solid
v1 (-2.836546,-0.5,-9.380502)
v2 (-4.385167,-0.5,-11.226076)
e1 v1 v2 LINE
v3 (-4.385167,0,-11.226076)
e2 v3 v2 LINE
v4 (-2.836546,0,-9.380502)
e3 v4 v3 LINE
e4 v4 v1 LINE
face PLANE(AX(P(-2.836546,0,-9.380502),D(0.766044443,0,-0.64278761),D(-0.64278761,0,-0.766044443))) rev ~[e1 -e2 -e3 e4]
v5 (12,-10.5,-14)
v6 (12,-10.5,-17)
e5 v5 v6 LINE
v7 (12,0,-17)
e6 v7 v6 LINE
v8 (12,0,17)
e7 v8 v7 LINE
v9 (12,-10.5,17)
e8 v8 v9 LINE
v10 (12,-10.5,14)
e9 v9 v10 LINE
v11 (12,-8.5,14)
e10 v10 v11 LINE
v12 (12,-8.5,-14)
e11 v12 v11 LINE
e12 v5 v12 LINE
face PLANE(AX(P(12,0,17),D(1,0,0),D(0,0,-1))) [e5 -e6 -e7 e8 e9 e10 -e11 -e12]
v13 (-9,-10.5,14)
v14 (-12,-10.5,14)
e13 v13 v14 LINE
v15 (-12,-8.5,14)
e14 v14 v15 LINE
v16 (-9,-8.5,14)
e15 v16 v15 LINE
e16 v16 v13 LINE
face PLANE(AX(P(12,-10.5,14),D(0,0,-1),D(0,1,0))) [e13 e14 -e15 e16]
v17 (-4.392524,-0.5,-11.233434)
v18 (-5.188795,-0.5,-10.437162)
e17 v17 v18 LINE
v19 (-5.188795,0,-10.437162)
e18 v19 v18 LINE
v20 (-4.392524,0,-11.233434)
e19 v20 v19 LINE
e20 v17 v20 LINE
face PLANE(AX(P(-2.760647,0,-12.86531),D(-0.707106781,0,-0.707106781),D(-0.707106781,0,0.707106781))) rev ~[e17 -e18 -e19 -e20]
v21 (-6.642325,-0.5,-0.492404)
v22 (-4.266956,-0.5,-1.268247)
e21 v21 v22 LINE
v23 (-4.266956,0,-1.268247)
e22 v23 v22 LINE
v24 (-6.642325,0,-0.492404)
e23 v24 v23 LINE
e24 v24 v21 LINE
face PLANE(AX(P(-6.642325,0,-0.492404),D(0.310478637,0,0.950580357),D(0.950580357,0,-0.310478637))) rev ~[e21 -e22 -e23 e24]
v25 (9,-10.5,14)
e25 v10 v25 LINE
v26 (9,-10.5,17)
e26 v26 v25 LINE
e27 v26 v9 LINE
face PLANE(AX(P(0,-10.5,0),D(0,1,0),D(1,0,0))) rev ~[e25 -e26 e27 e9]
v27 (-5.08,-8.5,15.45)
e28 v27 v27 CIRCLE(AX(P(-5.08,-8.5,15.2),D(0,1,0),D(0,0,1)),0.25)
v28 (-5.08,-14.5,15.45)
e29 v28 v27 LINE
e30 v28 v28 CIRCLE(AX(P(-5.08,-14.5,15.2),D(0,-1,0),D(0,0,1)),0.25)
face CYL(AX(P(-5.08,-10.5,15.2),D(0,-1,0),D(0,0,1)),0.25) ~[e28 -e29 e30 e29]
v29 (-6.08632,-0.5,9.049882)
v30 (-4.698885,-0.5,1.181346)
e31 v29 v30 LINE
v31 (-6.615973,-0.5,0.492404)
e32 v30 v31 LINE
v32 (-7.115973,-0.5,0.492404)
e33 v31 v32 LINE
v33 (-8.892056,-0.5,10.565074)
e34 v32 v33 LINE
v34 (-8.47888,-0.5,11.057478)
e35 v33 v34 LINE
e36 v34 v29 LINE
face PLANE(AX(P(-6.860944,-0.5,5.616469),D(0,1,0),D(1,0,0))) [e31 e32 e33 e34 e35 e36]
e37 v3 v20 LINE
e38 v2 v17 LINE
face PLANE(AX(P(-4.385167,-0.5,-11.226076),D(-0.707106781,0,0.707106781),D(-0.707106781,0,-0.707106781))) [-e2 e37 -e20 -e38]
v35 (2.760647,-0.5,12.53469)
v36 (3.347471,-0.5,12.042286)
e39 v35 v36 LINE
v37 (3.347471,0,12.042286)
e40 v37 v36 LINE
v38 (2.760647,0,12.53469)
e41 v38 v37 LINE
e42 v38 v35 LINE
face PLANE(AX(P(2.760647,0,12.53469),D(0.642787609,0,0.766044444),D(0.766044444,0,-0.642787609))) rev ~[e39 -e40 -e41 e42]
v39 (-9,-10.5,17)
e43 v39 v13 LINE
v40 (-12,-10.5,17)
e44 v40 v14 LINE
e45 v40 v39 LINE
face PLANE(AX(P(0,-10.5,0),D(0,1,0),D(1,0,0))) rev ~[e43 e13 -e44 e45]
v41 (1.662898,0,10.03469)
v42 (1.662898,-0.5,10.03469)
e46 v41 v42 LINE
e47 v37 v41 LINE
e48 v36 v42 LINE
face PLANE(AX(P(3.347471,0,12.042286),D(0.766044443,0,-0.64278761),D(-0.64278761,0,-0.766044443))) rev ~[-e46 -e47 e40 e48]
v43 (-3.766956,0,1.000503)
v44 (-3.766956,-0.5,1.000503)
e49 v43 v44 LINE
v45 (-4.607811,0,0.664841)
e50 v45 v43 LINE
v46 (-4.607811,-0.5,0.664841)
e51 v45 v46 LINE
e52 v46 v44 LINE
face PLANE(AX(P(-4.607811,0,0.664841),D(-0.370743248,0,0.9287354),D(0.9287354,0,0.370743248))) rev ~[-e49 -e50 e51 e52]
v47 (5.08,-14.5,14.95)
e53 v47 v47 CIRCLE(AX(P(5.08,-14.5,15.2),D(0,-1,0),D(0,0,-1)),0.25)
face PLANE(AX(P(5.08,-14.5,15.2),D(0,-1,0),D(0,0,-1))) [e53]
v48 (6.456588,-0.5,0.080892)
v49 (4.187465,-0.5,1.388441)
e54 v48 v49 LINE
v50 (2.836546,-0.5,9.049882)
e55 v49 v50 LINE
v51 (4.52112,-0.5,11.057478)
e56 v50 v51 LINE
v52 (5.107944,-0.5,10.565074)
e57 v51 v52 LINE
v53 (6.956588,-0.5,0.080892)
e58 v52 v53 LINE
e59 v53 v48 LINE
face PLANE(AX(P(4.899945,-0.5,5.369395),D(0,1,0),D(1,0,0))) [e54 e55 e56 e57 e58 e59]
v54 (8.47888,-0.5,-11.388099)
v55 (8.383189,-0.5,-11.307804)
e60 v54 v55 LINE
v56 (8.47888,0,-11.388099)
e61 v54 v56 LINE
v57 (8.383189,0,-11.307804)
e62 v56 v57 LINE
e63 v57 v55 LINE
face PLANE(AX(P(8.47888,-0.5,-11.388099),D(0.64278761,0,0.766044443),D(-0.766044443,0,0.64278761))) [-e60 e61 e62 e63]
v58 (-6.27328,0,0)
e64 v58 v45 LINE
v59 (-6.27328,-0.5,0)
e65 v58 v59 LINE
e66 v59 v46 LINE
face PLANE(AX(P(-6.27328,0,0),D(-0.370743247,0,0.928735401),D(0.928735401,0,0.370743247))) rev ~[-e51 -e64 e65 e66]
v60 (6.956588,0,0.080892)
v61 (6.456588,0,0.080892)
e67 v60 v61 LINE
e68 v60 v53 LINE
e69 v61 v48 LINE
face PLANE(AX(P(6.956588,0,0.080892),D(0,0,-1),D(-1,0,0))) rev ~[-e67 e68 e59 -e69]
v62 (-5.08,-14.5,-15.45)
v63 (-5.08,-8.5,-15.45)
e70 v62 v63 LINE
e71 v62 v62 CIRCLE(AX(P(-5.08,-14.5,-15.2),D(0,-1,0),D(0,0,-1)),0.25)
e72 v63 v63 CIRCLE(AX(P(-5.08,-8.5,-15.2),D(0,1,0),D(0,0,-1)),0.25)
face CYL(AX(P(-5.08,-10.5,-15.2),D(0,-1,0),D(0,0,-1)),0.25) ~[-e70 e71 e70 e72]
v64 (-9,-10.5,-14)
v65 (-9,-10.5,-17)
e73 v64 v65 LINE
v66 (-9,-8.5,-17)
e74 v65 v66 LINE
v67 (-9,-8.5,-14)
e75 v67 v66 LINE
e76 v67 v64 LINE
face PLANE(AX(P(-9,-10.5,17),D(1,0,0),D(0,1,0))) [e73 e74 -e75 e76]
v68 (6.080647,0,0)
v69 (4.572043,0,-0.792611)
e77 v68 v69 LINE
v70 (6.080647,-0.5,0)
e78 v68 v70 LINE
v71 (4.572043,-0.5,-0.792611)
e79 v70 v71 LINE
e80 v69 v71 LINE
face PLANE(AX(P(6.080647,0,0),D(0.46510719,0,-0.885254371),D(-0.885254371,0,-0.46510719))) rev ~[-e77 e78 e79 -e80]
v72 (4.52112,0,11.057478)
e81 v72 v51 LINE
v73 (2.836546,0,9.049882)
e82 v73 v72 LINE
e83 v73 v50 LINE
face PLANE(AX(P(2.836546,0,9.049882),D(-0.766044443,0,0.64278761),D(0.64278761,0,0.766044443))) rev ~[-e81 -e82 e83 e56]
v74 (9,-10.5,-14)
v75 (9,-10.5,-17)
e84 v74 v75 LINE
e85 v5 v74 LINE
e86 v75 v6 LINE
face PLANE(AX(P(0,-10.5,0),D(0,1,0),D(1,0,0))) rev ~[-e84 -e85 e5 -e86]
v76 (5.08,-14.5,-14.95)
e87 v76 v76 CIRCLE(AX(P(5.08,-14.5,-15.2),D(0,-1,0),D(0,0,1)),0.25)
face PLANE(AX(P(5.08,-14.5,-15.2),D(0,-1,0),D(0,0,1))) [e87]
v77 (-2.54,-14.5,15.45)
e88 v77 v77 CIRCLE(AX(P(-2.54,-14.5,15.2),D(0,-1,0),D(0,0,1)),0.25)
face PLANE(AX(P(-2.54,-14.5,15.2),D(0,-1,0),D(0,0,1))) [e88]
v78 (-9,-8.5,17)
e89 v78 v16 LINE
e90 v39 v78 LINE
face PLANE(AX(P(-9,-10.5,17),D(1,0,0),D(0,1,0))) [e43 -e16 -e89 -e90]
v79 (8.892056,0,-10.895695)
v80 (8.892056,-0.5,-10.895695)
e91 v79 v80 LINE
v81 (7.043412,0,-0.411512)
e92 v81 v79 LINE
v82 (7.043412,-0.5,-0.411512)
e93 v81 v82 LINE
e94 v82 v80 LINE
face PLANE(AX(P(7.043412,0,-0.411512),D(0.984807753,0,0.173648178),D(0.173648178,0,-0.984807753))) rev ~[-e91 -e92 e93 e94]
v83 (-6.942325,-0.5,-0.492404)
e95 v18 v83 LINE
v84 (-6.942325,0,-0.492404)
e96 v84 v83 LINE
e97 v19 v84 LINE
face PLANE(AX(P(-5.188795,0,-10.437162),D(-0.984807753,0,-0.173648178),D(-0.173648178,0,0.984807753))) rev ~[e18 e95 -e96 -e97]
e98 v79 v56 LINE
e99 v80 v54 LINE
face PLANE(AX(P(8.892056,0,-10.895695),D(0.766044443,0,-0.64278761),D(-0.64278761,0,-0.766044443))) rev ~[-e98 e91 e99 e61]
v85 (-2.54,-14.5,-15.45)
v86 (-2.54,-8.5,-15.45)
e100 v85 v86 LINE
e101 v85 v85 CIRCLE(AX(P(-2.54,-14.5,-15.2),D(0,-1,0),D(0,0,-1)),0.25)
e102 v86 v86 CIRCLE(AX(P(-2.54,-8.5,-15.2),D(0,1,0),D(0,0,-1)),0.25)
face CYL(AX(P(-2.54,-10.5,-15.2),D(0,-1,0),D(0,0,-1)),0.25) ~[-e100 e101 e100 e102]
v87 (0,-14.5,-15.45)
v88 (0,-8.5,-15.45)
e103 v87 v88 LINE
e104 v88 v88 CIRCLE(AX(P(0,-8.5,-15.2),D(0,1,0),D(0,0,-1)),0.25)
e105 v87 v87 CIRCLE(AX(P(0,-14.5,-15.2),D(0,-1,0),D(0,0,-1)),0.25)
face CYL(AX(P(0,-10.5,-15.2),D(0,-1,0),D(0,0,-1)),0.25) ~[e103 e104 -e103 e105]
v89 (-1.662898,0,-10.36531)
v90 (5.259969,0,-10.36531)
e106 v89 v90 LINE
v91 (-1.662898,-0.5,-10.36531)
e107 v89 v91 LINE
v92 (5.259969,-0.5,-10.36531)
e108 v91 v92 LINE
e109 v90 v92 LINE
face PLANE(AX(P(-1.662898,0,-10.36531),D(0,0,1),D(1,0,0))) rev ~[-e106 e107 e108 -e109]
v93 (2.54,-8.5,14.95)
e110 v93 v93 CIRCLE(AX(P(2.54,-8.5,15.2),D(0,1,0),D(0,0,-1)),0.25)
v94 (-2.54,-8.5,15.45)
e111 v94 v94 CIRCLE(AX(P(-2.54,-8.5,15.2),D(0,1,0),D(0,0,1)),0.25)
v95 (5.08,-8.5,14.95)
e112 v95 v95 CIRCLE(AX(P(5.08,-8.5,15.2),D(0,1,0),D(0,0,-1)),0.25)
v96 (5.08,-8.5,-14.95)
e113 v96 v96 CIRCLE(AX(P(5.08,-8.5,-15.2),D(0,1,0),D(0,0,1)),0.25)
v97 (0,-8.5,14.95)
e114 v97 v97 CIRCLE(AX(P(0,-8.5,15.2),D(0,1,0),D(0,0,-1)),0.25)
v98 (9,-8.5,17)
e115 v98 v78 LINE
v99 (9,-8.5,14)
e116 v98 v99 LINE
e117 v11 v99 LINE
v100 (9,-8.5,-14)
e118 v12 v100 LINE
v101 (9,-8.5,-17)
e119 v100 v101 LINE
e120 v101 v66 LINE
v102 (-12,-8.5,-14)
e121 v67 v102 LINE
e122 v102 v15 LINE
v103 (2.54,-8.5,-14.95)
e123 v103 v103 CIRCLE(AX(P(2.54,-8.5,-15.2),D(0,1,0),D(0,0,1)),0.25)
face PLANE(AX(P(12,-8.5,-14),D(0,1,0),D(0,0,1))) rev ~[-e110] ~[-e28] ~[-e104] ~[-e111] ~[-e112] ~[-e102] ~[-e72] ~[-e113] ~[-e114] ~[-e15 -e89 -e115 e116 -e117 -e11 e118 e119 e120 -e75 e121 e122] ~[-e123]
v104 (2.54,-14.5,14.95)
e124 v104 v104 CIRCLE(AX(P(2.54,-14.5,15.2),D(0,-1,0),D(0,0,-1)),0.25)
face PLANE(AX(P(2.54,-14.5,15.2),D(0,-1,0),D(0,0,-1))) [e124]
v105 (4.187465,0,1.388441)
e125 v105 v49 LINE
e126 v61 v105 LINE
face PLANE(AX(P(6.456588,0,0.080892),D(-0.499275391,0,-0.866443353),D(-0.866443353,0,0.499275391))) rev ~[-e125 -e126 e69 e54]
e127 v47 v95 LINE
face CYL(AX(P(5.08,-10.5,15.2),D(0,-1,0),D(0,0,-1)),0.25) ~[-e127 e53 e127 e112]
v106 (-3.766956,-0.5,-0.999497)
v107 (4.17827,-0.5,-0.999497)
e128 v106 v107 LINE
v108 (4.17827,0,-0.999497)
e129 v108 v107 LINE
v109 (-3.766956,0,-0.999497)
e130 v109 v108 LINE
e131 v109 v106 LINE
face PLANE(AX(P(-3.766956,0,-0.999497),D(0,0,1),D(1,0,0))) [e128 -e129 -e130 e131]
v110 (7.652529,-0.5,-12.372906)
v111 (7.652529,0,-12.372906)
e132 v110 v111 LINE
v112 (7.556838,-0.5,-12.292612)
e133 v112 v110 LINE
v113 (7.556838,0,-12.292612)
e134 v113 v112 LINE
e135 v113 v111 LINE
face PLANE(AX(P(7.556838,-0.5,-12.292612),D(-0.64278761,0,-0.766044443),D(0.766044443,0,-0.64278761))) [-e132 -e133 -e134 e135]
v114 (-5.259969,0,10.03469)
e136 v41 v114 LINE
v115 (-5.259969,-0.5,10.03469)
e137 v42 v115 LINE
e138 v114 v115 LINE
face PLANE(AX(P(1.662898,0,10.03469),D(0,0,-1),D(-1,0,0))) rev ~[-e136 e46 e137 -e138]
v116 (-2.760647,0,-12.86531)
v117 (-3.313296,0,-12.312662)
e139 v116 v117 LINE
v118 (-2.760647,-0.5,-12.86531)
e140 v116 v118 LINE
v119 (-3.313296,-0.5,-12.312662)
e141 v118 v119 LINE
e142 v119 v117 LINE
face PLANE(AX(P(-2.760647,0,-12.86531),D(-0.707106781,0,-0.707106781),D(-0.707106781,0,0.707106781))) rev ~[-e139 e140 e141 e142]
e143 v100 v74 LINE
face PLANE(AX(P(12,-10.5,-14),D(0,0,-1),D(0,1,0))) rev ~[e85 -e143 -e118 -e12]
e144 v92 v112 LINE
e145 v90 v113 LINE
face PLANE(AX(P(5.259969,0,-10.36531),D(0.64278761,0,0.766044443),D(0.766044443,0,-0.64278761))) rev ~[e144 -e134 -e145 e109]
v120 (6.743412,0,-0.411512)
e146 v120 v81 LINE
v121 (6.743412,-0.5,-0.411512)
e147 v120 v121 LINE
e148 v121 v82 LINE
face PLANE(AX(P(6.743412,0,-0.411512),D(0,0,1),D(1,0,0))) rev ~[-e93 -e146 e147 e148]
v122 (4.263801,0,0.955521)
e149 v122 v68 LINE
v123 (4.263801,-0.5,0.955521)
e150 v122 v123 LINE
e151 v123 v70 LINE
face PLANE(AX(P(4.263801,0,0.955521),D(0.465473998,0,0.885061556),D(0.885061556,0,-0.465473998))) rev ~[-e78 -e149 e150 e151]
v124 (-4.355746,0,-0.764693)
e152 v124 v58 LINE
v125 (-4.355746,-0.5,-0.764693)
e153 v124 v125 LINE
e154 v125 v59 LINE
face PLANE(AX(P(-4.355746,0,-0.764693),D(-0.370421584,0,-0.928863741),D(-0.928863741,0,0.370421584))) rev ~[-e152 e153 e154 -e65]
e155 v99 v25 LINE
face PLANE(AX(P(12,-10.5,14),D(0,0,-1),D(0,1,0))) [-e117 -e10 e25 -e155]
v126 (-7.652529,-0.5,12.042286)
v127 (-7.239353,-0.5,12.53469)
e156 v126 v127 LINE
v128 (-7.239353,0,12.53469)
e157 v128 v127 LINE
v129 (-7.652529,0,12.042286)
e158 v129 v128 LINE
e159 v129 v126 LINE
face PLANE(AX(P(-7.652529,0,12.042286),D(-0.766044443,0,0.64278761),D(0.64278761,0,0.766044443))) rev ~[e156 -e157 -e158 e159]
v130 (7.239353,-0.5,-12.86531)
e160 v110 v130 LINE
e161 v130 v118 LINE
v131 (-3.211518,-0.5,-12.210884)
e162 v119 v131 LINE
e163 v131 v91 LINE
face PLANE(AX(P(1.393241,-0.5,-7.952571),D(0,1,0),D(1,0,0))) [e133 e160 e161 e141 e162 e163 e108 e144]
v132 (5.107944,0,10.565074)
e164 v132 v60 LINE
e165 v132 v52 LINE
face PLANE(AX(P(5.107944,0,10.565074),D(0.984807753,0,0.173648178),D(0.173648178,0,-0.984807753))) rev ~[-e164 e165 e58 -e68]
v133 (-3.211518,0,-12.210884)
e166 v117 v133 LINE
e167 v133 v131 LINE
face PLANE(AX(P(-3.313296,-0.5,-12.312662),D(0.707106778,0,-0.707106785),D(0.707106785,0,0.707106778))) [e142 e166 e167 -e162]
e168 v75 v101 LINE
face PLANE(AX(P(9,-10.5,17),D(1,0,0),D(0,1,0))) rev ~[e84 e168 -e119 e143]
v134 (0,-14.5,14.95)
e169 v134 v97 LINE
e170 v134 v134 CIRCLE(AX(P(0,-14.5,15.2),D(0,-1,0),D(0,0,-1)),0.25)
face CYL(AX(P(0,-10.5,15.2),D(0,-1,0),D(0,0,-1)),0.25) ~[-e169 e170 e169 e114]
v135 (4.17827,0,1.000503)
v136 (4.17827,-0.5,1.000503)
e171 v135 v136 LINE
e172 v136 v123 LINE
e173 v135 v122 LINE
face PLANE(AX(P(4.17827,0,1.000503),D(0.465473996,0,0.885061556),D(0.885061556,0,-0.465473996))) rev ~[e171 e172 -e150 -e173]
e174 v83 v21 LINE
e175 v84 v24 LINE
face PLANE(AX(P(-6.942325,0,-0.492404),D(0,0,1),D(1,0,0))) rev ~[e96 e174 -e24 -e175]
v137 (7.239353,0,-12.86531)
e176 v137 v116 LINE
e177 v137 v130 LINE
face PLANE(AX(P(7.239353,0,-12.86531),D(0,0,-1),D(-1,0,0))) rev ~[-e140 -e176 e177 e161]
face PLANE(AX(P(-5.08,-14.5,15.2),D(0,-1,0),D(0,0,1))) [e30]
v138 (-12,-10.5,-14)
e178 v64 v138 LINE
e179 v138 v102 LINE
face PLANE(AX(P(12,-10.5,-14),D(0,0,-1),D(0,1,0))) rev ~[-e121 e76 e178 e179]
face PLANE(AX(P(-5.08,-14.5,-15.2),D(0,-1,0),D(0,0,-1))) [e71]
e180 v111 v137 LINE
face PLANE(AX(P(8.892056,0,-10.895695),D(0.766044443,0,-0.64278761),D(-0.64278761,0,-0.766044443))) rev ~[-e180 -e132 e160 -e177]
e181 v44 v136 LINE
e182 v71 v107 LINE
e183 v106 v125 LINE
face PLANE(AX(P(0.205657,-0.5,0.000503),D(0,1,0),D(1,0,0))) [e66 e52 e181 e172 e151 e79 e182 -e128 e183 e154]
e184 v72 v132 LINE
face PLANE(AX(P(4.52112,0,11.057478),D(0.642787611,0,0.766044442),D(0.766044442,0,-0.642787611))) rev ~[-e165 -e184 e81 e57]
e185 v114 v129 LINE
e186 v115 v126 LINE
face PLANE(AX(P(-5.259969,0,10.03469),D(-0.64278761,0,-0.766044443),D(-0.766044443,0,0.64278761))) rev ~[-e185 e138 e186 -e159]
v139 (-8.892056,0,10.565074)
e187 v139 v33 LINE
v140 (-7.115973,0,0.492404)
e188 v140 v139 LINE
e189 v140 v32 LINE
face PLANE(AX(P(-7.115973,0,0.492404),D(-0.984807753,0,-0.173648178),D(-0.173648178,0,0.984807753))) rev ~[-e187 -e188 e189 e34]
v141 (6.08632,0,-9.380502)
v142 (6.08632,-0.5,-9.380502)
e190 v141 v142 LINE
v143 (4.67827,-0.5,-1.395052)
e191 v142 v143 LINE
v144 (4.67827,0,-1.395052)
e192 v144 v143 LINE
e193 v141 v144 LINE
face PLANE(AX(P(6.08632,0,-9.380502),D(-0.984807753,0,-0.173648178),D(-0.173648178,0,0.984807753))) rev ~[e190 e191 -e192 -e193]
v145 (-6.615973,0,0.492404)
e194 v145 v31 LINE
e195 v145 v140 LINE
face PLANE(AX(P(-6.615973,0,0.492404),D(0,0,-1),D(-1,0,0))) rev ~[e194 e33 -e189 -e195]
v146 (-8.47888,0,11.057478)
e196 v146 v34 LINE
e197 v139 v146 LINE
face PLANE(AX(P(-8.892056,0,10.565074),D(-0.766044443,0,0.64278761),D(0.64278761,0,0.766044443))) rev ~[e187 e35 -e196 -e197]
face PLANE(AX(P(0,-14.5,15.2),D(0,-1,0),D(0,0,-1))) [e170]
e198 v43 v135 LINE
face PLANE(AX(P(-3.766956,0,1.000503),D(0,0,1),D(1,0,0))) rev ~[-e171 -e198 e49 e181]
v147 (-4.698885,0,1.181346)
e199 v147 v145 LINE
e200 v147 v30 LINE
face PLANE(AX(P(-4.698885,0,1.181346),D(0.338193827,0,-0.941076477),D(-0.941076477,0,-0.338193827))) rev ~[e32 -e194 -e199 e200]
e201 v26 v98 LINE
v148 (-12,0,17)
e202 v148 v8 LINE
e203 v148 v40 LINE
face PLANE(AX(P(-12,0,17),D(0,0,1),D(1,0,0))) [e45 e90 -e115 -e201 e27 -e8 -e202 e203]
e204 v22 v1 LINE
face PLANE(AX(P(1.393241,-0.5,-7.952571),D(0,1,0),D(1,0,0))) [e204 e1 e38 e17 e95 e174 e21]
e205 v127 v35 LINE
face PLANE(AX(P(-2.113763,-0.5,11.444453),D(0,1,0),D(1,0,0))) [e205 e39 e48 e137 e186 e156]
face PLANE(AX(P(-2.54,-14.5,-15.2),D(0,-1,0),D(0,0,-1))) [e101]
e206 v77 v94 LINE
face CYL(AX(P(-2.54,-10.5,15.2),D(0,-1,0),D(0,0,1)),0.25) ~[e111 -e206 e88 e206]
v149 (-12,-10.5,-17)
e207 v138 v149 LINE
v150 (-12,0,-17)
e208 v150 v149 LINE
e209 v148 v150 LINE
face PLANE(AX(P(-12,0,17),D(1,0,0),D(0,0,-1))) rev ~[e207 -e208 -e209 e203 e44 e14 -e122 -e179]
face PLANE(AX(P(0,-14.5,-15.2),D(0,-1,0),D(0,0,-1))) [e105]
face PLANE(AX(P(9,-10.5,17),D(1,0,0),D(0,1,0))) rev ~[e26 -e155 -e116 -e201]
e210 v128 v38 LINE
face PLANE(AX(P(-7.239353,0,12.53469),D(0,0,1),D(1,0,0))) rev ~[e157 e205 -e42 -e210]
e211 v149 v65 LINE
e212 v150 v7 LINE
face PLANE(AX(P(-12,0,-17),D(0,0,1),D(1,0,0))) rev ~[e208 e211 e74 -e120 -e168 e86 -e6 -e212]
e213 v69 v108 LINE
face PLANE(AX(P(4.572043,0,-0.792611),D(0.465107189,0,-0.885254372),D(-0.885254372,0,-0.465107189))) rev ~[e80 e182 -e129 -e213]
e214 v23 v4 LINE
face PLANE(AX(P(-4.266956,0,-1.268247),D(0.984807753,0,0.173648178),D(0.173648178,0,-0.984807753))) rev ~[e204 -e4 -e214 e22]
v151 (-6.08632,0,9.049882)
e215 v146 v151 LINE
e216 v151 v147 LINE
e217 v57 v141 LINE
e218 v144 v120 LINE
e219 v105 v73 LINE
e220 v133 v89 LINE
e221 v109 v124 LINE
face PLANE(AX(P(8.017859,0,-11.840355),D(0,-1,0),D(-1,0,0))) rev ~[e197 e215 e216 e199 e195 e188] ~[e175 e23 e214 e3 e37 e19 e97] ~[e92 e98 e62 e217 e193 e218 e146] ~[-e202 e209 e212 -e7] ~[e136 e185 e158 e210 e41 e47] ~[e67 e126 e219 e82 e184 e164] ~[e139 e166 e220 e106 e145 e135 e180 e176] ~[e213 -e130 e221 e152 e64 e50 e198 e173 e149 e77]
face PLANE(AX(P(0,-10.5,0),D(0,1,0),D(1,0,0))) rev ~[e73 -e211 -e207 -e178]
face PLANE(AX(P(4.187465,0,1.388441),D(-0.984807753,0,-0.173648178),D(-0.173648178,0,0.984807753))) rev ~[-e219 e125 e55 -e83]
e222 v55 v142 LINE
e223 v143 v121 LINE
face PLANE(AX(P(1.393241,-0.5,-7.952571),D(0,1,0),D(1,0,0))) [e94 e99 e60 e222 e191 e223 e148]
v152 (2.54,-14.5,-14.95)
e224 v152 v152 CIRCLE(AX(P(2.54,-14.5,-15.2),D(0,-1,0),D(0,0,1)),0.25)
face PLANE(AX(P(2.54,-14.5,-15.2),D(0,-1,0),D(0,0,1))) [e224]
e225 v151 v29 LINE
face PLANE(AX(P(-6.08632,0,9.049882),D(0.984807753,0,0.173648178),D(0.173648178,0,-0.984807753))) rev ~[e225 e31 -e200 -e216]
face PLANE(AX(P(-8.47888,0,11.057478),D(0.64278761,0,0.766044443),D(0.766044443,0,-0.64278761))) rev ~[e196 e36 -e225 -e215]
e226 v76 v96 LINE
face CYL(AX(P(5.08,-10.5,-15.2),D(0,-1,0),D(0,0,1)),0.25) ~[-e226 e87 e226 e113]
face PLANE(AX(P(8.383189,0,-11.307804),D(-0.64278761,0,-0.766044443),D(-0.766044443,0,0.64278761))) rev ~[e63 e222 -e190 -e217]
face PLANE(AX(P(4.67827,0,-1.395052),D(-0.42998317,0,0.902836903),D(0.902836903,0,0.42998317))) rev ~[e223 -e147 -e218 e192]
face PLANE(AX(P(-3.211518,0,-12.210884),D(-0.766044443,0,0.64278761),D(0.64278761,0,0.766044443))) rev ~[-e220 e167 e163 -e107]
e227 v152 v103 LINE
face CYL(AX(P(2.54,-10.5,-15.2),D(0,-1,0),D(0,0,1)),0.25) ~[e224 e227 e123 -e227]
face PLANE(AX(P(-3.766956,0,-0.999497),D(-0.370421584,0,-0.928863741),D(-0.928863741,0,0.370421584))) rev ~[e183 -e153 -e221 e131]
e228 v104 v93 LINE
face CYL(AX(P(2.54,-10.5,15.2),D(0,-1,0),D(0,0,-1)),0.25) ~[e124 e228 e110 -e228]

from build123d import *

# Parameters (mm, degrees)
SKETCH1_W           = 24
SKETCH1_H           = 34
BOSS_EXTRUDE1_DEPTH = 10.5
SKETCH3_R           = 0.25
BOSS_EXTRUDE2_DEPTH = 4
SKETCH4_W           = 14
SKETCH4_H           = 2
CUT_EXTRUDE1_DEPTH  = 30
SKETCH5_W           = 9
SKETCH5_H           = 2
CUT_EXTRUDE2_DEPTH  = 43
SKETCH6_R           = 0.25
BOSS_EXTRUDE3_DEPTH = 2
SKETCH7_W           = 7.945226129
SKETCH7_H           = 2
CUT_EXTRUDE3_DEPTH  = 0.5
BOSS_EXTRUDE4_DEPTH = 0.5


with BuildPart() as part:
    # Sketch1 → Boss-Extrude1 (new body)
    with BuildSketch(Plane(origin=(0, 0, 0), x_dir=(1, 0, 0), z_dir=(0, 1, 0))):
        Rectangle(SKETCH1_W, SKETCH1_H)
    extrude(amount=-BOSS_EXTRUDE1_DEPTH)

    # Sketch3 → Boss-Extrude2 (add)
    with BuildSketch(Plane.XZ.offset(10.5)):
        with Locations(Location((0, 15.2, 0), (0, 0, 270))):
            Circle(SKETCH3_R)
        with Locations(Location((0, -15.2, 0), (0, 0, 270))):
            Circle(SKETCH3_R)
        with Locations(Location((2.54, 15.2, 0), (0, 0, 270))):
            Circle(SKETCH3_R)
        with Locations(Location((5.08, 15.2, 0), (0, 0, 270))):
            Circle(SKETCH3_R)
        with Locations(Location((-2.54, 15.2, 0), (0, 0, 90))):
            Circle(SKETCH3_R)
        with Locations(Location((-5.08, 15.2, 0), (0, 0, 90))):
            Circle(SKETCH3_R)
        with Locations(Location((-5.08, -15.2, 0), (0, 0, 270))):
            Circle(SKETCH3_R)
        with Locations(Location((-2.54, -15.2, 0), (0, 0, 270))):
            Circle(SKETCH3_R)
        with Locations(Location((2.54, -15.2, 0), (0, 0, 90))):
            Circle(SKETCH3_R)
        with Locations(Location((5.08, -15.2, 0), (0, 0, 90))):
            Circle(SKETCH3_R)
    extrude(amount=BOSS_EXTRUDE2_DEPTH)

    # Sketch4 → Cut-Extrude1 (cut)
    with BuildSketch(Plane(origin=(12, 0, 0), x_dir=(0, 0, -1), z_dir=(1, 0, 0))):
        with Locations((-7, -9.5)):
            Rectangle(SKETCH4_W, SKETCH4_H)
        with Locations((7, -9.5)):
            Rectangle(SKETCH4_W, SKETCH4_H)
    extrude(amount=-CUT_EXTRUDE1_DEPTH, mode=Mode.SUBTRACT)

    # Sketch5 → Cut-Extrude2 (cut)
    with BuildSketch(Plane.XY.offset(17)):
        with Locations((4.5, -9.5)):
            Rectangle(SKETCH5_W, SKETCH5_H)
        with Locations((-4.5, -9.5)):
            Rectangle(SKETCH5_W, SKETCH5_H)
    extrude(amount=-CUT_EXTRUDE2_DEPTH, mode=Mode.SUBTRACT)


with BuildPart() as cut_extrude2_piece_1:
    # of the separate pieces the step leaves, piece 1, a body of its own (cut_extrude2_pieces)
    add(part.part.solids().sort_by_distance((-12, 0, -17))[0])



with BuildPart() as cut_extrude2_piece_2:
    # of the separate pieces the step leaves, piece 2, a body of its own (cut_extrude2_pieces)
    add(part.part.solids().sort_by_distance((5.08, -10.5, -14.95))[0])


with BuildPart() as cut_extrude2_piece_3:
    # of the separate pieces the step leaves, piece 3, a body of its own (cut_extrude2_pieces)
    add(part.part.solids().sort_by_distance((-5.08, -10.5, -15.45))[0])


with BuildPart() as cut_extrude2_piece_4:
    # of the separate pieces the step leaves, piece 4, a body of its own (cut_extrude2_pieces)
    add(part.part.solids().sort_by_distance((5.08, -10.5, 14.95))[0])


with BuildPart() as cut_extrude2_piece_5:
    # of the separate pieces the step leaves, piece 5, a body of its own (cut_extrude2_pieces)
    add(part.part.solids().sort_by_distance((-5.08, -10.5, 15.45))[0])


with BuildPart() as cut_extrude2_piece_6:
    # of the separate pieces the step leaves, piece 6, a body of its own (cut_extrude2_pieces)
    add(part.part.solids().sort_by_distance((0, -10.5, -15.45))[0])


with BuildPart() as cut_extrude2_piece_7:
    # of the separate pieces the step leaves, piece 7, a body of its own (cut_extrude2_pieces)
    add(part.part.solids().sort_by_distance((2.54, -10.5, -14.95))[0])


with BuildPart() as cut_extrude2_piece_8:
    # of the separate pieces the step leaves, piece 8, a body of its own (cut_extrude2_pieces)
    add(part.part.solids().sort_by_distance((-2.54, -10.5, -15.45))[0])


with BuildPart() as cut_extrude2_piece_9:
    # of the separate pieces the step leaves, piece 9, a body of its own (cut_extrude2_pieces)
    add(part.part.solids().sort_by_distance((0, -10.5, 14.95))[0])


with BuildPart() as cut_extrude2_piece_10:
    # of the separate pieces the step leaves, piece 10, a body of its own (cut_extrude2_pieces)
    add(part.part.solids().sort_by_distance((2.54, -10.5, 14.95))[0])


with BuildPart() as cut_extrude2_piece_11:
    # of the separate pieces the step leaves, piece 11, a body of its own (cut_extrude2_pieces)
    add(part.part.solids().sort_by_distance((-2.54, -10.5, 15.45))[0])


with BuildPart() as cut_extrude2_piece_1_1:
    add(cut_extrude2_piece_1.part)

    add(cut_extrude2_piece_2.part)  # Boss-Extrude3 merges Cut-Extrude2 piece 2

    add(cut_extrude2_piece_3.part)  # Boss-Extrude3 merges Cut-Extrude2 piece 3

    add(cut_extrude2_piece_4.part)  # Boss-Extrude3 merges Cut-Extrude2 piece 4

    add(cut_extrude2_piece_5.part)  # Boss-Extrude3 merges Cut-Extrude2 piece 5

    add(cut_extrude2_piece_6.part)  # Boss-Extrude3 merges Cut-Extrude2 piece 6

    add(cut_extrude2_piece_7.part)  # Boss-Extrude3 merges Cut-Extrude2 piece 7

    add(cut_extrude2_piece_8.part)  # Boss-Extrude3 merges Cut-Extrude2 piece 8

    add(cut_extrude2_piece_9.part)  # Boss-Extrude3 merges Cut-Extrude2 piece 9

    add(cut_extrude2_piece_10.part)  # Boss-Extrude3 merges Cut-Extrude2 piece 10

    add(cut_extrude2_piece_11.part)  # Boss-Extrude3 merges Cut-Extrude2 piece 11
    # Sketch6 → Boss-Extrude3 (add)
    with BuildSketch(Plane(origin=(0, -10.5, 0), x_dir=(1, 0, 0), z_dir=(0, 1, 0))):
        with Locations(Location((0, -15.2, 0), (0, 0, 90))):
            Circle(SKETCH6_R)
        with Locations(Location((2.54, -15.2, 0), (0, 0, 90))):
            Circle(SKETCH6_R)
        with Locations(Location((5.08, -15.2, 0), (0, 0, 90))):
            Circle(SKETCH6_R)
        with Locations(Location((-5.08, -15.2, 0), (0, 0, 270))):
            Circle(SKETCH6_R)
        with Locations(Location((-2.54, -15.2, 0), (0, 0, 270))):
            Circle(SKETCH6_R)
        with Locations(Location((5.08, 15.2, 0), (0, 0, 270))):
            Circle(SKETCH6_R)
        with Locations(Location((2.54, 15.2, 0), (0, 0, 270))):
            Circle(SKETCH6_R)
        with Locations(Location((0, 15.2, 0), (0, 0, 90))):
            Circle(SKETCH6_R)
        with Locations(Location((-2.54, 15.2, 0), (0, 0, 90))):
            Circle(SKETCH6_R)
        with Locations(Location((-5.08, 15.2, 0), (0, 0, 90))):
            Circle(SKETCH6_R)
    extrude(amount=BOSS_EXTRUDE3_DEPTH)

    # Sketch7 → Cut-Extrude3 (cut)
    with BuildSketch(Plane(origin=(0, 0, 0), x_dir=(1, 0, 0), z_dir=(0, 1, 0))):
        Polygon((-5.188795352, 10.437162232), (-6.942324566, 0.492403877), (-6.642324566, 0.492403877), (-4.266955967, 1.26824697), (-2.836546445, 9.380502486), (-4.385166656, 11.226076186), (-3.211518478, 12.210883939), (-1.662898267, 10.365310239), (5.259968674, 10.365310239), (7.55683761, 12.292612116), (8.383189432, 11.307804363), (6.086320496, 9.380502486), (4.678270162, 1.395052228), (6.743412044, 0.411512177), (7.043412044, 0.411512177), (8.8920563, 10.895694733), (7.239352655, 12.865310239), (-2.760647345, 12.865310239), align=None)
        Polygon((-8.8920563, -10.565074255), (-8.478880388, -11.057478132), (-6.086320496, -9.049882008), (-4.698885284, -1.181345914), (-6.615972744, -0.492403877), (-7.115972744, -0.492403877), align=None)
        Polygon((-7.652528566, -12.042285885), (-7.239352655, -12.534689761), (2.760647345, -12.534689761), (3.347471434, -12.042285885), (1.662898267, -10.034689761), (-5.259968674, -10.034689761), align=None)
        Polygon((2.836546445, -9.049882008), (4.521119612, -11.057478132), (5.1079437, -10.565074255), (6.956587956, -0.080891699), (6.456587956, -0.080891699), (4.187465262, -1.388440678), align=None)
        with Locations((0.205657098, -0.000503087)):
            Rectangle(SKETCH7_W, SKETCH7_H)
        Polygon((-4.355746064, 0.764693302), (-4.607811486, -0.664840738), (-3.766955967, -1.000503087), (-3.766955967, 0.999496913), align=None)
        Polygon((-6.273279795, 0), (-4.607811486, -0.664840738), (-4.355746064, 0.764693302), align=None)
        Polygon((4.178270162, -1.000503087), (4.263800752, -0.955520605), (4.57204349, 0.792610834), (4.178270162, 0.999496913), align=None)
        Polygon((4.57204349, 0.792610834), (4.263800752, -0.955520605), (6.080646714, 0), align=None)
    extrude(amount=-CUT_EXTRUDE3_DEPTH, mode=Mode.SUBTRACT)

    # Sketch8 → Boss-Extrude4 (add)
    with BuildSketch(Plane(origin=(0, -0.5, 0), x_dir=(1, 0, 0), z_dir=(0, 1, 0))):
        Polygon((7.55683761, 12.292612116), (7.652528566, 12.372906362), (8.478880388, 11.388098609), (8.383189432, 11.307804363), align=None)
        Polygon((-4.385166656, 11.226076186), (-4.392524027, 11.233433557), (-3.313296062, 12.312661522), (-3.211518478, 12.210883939), align=None)
    extrude(amount=BOSS_EXTRUDE4_DEPTH)


solid = cut_extrude2_piece_1_1.part
